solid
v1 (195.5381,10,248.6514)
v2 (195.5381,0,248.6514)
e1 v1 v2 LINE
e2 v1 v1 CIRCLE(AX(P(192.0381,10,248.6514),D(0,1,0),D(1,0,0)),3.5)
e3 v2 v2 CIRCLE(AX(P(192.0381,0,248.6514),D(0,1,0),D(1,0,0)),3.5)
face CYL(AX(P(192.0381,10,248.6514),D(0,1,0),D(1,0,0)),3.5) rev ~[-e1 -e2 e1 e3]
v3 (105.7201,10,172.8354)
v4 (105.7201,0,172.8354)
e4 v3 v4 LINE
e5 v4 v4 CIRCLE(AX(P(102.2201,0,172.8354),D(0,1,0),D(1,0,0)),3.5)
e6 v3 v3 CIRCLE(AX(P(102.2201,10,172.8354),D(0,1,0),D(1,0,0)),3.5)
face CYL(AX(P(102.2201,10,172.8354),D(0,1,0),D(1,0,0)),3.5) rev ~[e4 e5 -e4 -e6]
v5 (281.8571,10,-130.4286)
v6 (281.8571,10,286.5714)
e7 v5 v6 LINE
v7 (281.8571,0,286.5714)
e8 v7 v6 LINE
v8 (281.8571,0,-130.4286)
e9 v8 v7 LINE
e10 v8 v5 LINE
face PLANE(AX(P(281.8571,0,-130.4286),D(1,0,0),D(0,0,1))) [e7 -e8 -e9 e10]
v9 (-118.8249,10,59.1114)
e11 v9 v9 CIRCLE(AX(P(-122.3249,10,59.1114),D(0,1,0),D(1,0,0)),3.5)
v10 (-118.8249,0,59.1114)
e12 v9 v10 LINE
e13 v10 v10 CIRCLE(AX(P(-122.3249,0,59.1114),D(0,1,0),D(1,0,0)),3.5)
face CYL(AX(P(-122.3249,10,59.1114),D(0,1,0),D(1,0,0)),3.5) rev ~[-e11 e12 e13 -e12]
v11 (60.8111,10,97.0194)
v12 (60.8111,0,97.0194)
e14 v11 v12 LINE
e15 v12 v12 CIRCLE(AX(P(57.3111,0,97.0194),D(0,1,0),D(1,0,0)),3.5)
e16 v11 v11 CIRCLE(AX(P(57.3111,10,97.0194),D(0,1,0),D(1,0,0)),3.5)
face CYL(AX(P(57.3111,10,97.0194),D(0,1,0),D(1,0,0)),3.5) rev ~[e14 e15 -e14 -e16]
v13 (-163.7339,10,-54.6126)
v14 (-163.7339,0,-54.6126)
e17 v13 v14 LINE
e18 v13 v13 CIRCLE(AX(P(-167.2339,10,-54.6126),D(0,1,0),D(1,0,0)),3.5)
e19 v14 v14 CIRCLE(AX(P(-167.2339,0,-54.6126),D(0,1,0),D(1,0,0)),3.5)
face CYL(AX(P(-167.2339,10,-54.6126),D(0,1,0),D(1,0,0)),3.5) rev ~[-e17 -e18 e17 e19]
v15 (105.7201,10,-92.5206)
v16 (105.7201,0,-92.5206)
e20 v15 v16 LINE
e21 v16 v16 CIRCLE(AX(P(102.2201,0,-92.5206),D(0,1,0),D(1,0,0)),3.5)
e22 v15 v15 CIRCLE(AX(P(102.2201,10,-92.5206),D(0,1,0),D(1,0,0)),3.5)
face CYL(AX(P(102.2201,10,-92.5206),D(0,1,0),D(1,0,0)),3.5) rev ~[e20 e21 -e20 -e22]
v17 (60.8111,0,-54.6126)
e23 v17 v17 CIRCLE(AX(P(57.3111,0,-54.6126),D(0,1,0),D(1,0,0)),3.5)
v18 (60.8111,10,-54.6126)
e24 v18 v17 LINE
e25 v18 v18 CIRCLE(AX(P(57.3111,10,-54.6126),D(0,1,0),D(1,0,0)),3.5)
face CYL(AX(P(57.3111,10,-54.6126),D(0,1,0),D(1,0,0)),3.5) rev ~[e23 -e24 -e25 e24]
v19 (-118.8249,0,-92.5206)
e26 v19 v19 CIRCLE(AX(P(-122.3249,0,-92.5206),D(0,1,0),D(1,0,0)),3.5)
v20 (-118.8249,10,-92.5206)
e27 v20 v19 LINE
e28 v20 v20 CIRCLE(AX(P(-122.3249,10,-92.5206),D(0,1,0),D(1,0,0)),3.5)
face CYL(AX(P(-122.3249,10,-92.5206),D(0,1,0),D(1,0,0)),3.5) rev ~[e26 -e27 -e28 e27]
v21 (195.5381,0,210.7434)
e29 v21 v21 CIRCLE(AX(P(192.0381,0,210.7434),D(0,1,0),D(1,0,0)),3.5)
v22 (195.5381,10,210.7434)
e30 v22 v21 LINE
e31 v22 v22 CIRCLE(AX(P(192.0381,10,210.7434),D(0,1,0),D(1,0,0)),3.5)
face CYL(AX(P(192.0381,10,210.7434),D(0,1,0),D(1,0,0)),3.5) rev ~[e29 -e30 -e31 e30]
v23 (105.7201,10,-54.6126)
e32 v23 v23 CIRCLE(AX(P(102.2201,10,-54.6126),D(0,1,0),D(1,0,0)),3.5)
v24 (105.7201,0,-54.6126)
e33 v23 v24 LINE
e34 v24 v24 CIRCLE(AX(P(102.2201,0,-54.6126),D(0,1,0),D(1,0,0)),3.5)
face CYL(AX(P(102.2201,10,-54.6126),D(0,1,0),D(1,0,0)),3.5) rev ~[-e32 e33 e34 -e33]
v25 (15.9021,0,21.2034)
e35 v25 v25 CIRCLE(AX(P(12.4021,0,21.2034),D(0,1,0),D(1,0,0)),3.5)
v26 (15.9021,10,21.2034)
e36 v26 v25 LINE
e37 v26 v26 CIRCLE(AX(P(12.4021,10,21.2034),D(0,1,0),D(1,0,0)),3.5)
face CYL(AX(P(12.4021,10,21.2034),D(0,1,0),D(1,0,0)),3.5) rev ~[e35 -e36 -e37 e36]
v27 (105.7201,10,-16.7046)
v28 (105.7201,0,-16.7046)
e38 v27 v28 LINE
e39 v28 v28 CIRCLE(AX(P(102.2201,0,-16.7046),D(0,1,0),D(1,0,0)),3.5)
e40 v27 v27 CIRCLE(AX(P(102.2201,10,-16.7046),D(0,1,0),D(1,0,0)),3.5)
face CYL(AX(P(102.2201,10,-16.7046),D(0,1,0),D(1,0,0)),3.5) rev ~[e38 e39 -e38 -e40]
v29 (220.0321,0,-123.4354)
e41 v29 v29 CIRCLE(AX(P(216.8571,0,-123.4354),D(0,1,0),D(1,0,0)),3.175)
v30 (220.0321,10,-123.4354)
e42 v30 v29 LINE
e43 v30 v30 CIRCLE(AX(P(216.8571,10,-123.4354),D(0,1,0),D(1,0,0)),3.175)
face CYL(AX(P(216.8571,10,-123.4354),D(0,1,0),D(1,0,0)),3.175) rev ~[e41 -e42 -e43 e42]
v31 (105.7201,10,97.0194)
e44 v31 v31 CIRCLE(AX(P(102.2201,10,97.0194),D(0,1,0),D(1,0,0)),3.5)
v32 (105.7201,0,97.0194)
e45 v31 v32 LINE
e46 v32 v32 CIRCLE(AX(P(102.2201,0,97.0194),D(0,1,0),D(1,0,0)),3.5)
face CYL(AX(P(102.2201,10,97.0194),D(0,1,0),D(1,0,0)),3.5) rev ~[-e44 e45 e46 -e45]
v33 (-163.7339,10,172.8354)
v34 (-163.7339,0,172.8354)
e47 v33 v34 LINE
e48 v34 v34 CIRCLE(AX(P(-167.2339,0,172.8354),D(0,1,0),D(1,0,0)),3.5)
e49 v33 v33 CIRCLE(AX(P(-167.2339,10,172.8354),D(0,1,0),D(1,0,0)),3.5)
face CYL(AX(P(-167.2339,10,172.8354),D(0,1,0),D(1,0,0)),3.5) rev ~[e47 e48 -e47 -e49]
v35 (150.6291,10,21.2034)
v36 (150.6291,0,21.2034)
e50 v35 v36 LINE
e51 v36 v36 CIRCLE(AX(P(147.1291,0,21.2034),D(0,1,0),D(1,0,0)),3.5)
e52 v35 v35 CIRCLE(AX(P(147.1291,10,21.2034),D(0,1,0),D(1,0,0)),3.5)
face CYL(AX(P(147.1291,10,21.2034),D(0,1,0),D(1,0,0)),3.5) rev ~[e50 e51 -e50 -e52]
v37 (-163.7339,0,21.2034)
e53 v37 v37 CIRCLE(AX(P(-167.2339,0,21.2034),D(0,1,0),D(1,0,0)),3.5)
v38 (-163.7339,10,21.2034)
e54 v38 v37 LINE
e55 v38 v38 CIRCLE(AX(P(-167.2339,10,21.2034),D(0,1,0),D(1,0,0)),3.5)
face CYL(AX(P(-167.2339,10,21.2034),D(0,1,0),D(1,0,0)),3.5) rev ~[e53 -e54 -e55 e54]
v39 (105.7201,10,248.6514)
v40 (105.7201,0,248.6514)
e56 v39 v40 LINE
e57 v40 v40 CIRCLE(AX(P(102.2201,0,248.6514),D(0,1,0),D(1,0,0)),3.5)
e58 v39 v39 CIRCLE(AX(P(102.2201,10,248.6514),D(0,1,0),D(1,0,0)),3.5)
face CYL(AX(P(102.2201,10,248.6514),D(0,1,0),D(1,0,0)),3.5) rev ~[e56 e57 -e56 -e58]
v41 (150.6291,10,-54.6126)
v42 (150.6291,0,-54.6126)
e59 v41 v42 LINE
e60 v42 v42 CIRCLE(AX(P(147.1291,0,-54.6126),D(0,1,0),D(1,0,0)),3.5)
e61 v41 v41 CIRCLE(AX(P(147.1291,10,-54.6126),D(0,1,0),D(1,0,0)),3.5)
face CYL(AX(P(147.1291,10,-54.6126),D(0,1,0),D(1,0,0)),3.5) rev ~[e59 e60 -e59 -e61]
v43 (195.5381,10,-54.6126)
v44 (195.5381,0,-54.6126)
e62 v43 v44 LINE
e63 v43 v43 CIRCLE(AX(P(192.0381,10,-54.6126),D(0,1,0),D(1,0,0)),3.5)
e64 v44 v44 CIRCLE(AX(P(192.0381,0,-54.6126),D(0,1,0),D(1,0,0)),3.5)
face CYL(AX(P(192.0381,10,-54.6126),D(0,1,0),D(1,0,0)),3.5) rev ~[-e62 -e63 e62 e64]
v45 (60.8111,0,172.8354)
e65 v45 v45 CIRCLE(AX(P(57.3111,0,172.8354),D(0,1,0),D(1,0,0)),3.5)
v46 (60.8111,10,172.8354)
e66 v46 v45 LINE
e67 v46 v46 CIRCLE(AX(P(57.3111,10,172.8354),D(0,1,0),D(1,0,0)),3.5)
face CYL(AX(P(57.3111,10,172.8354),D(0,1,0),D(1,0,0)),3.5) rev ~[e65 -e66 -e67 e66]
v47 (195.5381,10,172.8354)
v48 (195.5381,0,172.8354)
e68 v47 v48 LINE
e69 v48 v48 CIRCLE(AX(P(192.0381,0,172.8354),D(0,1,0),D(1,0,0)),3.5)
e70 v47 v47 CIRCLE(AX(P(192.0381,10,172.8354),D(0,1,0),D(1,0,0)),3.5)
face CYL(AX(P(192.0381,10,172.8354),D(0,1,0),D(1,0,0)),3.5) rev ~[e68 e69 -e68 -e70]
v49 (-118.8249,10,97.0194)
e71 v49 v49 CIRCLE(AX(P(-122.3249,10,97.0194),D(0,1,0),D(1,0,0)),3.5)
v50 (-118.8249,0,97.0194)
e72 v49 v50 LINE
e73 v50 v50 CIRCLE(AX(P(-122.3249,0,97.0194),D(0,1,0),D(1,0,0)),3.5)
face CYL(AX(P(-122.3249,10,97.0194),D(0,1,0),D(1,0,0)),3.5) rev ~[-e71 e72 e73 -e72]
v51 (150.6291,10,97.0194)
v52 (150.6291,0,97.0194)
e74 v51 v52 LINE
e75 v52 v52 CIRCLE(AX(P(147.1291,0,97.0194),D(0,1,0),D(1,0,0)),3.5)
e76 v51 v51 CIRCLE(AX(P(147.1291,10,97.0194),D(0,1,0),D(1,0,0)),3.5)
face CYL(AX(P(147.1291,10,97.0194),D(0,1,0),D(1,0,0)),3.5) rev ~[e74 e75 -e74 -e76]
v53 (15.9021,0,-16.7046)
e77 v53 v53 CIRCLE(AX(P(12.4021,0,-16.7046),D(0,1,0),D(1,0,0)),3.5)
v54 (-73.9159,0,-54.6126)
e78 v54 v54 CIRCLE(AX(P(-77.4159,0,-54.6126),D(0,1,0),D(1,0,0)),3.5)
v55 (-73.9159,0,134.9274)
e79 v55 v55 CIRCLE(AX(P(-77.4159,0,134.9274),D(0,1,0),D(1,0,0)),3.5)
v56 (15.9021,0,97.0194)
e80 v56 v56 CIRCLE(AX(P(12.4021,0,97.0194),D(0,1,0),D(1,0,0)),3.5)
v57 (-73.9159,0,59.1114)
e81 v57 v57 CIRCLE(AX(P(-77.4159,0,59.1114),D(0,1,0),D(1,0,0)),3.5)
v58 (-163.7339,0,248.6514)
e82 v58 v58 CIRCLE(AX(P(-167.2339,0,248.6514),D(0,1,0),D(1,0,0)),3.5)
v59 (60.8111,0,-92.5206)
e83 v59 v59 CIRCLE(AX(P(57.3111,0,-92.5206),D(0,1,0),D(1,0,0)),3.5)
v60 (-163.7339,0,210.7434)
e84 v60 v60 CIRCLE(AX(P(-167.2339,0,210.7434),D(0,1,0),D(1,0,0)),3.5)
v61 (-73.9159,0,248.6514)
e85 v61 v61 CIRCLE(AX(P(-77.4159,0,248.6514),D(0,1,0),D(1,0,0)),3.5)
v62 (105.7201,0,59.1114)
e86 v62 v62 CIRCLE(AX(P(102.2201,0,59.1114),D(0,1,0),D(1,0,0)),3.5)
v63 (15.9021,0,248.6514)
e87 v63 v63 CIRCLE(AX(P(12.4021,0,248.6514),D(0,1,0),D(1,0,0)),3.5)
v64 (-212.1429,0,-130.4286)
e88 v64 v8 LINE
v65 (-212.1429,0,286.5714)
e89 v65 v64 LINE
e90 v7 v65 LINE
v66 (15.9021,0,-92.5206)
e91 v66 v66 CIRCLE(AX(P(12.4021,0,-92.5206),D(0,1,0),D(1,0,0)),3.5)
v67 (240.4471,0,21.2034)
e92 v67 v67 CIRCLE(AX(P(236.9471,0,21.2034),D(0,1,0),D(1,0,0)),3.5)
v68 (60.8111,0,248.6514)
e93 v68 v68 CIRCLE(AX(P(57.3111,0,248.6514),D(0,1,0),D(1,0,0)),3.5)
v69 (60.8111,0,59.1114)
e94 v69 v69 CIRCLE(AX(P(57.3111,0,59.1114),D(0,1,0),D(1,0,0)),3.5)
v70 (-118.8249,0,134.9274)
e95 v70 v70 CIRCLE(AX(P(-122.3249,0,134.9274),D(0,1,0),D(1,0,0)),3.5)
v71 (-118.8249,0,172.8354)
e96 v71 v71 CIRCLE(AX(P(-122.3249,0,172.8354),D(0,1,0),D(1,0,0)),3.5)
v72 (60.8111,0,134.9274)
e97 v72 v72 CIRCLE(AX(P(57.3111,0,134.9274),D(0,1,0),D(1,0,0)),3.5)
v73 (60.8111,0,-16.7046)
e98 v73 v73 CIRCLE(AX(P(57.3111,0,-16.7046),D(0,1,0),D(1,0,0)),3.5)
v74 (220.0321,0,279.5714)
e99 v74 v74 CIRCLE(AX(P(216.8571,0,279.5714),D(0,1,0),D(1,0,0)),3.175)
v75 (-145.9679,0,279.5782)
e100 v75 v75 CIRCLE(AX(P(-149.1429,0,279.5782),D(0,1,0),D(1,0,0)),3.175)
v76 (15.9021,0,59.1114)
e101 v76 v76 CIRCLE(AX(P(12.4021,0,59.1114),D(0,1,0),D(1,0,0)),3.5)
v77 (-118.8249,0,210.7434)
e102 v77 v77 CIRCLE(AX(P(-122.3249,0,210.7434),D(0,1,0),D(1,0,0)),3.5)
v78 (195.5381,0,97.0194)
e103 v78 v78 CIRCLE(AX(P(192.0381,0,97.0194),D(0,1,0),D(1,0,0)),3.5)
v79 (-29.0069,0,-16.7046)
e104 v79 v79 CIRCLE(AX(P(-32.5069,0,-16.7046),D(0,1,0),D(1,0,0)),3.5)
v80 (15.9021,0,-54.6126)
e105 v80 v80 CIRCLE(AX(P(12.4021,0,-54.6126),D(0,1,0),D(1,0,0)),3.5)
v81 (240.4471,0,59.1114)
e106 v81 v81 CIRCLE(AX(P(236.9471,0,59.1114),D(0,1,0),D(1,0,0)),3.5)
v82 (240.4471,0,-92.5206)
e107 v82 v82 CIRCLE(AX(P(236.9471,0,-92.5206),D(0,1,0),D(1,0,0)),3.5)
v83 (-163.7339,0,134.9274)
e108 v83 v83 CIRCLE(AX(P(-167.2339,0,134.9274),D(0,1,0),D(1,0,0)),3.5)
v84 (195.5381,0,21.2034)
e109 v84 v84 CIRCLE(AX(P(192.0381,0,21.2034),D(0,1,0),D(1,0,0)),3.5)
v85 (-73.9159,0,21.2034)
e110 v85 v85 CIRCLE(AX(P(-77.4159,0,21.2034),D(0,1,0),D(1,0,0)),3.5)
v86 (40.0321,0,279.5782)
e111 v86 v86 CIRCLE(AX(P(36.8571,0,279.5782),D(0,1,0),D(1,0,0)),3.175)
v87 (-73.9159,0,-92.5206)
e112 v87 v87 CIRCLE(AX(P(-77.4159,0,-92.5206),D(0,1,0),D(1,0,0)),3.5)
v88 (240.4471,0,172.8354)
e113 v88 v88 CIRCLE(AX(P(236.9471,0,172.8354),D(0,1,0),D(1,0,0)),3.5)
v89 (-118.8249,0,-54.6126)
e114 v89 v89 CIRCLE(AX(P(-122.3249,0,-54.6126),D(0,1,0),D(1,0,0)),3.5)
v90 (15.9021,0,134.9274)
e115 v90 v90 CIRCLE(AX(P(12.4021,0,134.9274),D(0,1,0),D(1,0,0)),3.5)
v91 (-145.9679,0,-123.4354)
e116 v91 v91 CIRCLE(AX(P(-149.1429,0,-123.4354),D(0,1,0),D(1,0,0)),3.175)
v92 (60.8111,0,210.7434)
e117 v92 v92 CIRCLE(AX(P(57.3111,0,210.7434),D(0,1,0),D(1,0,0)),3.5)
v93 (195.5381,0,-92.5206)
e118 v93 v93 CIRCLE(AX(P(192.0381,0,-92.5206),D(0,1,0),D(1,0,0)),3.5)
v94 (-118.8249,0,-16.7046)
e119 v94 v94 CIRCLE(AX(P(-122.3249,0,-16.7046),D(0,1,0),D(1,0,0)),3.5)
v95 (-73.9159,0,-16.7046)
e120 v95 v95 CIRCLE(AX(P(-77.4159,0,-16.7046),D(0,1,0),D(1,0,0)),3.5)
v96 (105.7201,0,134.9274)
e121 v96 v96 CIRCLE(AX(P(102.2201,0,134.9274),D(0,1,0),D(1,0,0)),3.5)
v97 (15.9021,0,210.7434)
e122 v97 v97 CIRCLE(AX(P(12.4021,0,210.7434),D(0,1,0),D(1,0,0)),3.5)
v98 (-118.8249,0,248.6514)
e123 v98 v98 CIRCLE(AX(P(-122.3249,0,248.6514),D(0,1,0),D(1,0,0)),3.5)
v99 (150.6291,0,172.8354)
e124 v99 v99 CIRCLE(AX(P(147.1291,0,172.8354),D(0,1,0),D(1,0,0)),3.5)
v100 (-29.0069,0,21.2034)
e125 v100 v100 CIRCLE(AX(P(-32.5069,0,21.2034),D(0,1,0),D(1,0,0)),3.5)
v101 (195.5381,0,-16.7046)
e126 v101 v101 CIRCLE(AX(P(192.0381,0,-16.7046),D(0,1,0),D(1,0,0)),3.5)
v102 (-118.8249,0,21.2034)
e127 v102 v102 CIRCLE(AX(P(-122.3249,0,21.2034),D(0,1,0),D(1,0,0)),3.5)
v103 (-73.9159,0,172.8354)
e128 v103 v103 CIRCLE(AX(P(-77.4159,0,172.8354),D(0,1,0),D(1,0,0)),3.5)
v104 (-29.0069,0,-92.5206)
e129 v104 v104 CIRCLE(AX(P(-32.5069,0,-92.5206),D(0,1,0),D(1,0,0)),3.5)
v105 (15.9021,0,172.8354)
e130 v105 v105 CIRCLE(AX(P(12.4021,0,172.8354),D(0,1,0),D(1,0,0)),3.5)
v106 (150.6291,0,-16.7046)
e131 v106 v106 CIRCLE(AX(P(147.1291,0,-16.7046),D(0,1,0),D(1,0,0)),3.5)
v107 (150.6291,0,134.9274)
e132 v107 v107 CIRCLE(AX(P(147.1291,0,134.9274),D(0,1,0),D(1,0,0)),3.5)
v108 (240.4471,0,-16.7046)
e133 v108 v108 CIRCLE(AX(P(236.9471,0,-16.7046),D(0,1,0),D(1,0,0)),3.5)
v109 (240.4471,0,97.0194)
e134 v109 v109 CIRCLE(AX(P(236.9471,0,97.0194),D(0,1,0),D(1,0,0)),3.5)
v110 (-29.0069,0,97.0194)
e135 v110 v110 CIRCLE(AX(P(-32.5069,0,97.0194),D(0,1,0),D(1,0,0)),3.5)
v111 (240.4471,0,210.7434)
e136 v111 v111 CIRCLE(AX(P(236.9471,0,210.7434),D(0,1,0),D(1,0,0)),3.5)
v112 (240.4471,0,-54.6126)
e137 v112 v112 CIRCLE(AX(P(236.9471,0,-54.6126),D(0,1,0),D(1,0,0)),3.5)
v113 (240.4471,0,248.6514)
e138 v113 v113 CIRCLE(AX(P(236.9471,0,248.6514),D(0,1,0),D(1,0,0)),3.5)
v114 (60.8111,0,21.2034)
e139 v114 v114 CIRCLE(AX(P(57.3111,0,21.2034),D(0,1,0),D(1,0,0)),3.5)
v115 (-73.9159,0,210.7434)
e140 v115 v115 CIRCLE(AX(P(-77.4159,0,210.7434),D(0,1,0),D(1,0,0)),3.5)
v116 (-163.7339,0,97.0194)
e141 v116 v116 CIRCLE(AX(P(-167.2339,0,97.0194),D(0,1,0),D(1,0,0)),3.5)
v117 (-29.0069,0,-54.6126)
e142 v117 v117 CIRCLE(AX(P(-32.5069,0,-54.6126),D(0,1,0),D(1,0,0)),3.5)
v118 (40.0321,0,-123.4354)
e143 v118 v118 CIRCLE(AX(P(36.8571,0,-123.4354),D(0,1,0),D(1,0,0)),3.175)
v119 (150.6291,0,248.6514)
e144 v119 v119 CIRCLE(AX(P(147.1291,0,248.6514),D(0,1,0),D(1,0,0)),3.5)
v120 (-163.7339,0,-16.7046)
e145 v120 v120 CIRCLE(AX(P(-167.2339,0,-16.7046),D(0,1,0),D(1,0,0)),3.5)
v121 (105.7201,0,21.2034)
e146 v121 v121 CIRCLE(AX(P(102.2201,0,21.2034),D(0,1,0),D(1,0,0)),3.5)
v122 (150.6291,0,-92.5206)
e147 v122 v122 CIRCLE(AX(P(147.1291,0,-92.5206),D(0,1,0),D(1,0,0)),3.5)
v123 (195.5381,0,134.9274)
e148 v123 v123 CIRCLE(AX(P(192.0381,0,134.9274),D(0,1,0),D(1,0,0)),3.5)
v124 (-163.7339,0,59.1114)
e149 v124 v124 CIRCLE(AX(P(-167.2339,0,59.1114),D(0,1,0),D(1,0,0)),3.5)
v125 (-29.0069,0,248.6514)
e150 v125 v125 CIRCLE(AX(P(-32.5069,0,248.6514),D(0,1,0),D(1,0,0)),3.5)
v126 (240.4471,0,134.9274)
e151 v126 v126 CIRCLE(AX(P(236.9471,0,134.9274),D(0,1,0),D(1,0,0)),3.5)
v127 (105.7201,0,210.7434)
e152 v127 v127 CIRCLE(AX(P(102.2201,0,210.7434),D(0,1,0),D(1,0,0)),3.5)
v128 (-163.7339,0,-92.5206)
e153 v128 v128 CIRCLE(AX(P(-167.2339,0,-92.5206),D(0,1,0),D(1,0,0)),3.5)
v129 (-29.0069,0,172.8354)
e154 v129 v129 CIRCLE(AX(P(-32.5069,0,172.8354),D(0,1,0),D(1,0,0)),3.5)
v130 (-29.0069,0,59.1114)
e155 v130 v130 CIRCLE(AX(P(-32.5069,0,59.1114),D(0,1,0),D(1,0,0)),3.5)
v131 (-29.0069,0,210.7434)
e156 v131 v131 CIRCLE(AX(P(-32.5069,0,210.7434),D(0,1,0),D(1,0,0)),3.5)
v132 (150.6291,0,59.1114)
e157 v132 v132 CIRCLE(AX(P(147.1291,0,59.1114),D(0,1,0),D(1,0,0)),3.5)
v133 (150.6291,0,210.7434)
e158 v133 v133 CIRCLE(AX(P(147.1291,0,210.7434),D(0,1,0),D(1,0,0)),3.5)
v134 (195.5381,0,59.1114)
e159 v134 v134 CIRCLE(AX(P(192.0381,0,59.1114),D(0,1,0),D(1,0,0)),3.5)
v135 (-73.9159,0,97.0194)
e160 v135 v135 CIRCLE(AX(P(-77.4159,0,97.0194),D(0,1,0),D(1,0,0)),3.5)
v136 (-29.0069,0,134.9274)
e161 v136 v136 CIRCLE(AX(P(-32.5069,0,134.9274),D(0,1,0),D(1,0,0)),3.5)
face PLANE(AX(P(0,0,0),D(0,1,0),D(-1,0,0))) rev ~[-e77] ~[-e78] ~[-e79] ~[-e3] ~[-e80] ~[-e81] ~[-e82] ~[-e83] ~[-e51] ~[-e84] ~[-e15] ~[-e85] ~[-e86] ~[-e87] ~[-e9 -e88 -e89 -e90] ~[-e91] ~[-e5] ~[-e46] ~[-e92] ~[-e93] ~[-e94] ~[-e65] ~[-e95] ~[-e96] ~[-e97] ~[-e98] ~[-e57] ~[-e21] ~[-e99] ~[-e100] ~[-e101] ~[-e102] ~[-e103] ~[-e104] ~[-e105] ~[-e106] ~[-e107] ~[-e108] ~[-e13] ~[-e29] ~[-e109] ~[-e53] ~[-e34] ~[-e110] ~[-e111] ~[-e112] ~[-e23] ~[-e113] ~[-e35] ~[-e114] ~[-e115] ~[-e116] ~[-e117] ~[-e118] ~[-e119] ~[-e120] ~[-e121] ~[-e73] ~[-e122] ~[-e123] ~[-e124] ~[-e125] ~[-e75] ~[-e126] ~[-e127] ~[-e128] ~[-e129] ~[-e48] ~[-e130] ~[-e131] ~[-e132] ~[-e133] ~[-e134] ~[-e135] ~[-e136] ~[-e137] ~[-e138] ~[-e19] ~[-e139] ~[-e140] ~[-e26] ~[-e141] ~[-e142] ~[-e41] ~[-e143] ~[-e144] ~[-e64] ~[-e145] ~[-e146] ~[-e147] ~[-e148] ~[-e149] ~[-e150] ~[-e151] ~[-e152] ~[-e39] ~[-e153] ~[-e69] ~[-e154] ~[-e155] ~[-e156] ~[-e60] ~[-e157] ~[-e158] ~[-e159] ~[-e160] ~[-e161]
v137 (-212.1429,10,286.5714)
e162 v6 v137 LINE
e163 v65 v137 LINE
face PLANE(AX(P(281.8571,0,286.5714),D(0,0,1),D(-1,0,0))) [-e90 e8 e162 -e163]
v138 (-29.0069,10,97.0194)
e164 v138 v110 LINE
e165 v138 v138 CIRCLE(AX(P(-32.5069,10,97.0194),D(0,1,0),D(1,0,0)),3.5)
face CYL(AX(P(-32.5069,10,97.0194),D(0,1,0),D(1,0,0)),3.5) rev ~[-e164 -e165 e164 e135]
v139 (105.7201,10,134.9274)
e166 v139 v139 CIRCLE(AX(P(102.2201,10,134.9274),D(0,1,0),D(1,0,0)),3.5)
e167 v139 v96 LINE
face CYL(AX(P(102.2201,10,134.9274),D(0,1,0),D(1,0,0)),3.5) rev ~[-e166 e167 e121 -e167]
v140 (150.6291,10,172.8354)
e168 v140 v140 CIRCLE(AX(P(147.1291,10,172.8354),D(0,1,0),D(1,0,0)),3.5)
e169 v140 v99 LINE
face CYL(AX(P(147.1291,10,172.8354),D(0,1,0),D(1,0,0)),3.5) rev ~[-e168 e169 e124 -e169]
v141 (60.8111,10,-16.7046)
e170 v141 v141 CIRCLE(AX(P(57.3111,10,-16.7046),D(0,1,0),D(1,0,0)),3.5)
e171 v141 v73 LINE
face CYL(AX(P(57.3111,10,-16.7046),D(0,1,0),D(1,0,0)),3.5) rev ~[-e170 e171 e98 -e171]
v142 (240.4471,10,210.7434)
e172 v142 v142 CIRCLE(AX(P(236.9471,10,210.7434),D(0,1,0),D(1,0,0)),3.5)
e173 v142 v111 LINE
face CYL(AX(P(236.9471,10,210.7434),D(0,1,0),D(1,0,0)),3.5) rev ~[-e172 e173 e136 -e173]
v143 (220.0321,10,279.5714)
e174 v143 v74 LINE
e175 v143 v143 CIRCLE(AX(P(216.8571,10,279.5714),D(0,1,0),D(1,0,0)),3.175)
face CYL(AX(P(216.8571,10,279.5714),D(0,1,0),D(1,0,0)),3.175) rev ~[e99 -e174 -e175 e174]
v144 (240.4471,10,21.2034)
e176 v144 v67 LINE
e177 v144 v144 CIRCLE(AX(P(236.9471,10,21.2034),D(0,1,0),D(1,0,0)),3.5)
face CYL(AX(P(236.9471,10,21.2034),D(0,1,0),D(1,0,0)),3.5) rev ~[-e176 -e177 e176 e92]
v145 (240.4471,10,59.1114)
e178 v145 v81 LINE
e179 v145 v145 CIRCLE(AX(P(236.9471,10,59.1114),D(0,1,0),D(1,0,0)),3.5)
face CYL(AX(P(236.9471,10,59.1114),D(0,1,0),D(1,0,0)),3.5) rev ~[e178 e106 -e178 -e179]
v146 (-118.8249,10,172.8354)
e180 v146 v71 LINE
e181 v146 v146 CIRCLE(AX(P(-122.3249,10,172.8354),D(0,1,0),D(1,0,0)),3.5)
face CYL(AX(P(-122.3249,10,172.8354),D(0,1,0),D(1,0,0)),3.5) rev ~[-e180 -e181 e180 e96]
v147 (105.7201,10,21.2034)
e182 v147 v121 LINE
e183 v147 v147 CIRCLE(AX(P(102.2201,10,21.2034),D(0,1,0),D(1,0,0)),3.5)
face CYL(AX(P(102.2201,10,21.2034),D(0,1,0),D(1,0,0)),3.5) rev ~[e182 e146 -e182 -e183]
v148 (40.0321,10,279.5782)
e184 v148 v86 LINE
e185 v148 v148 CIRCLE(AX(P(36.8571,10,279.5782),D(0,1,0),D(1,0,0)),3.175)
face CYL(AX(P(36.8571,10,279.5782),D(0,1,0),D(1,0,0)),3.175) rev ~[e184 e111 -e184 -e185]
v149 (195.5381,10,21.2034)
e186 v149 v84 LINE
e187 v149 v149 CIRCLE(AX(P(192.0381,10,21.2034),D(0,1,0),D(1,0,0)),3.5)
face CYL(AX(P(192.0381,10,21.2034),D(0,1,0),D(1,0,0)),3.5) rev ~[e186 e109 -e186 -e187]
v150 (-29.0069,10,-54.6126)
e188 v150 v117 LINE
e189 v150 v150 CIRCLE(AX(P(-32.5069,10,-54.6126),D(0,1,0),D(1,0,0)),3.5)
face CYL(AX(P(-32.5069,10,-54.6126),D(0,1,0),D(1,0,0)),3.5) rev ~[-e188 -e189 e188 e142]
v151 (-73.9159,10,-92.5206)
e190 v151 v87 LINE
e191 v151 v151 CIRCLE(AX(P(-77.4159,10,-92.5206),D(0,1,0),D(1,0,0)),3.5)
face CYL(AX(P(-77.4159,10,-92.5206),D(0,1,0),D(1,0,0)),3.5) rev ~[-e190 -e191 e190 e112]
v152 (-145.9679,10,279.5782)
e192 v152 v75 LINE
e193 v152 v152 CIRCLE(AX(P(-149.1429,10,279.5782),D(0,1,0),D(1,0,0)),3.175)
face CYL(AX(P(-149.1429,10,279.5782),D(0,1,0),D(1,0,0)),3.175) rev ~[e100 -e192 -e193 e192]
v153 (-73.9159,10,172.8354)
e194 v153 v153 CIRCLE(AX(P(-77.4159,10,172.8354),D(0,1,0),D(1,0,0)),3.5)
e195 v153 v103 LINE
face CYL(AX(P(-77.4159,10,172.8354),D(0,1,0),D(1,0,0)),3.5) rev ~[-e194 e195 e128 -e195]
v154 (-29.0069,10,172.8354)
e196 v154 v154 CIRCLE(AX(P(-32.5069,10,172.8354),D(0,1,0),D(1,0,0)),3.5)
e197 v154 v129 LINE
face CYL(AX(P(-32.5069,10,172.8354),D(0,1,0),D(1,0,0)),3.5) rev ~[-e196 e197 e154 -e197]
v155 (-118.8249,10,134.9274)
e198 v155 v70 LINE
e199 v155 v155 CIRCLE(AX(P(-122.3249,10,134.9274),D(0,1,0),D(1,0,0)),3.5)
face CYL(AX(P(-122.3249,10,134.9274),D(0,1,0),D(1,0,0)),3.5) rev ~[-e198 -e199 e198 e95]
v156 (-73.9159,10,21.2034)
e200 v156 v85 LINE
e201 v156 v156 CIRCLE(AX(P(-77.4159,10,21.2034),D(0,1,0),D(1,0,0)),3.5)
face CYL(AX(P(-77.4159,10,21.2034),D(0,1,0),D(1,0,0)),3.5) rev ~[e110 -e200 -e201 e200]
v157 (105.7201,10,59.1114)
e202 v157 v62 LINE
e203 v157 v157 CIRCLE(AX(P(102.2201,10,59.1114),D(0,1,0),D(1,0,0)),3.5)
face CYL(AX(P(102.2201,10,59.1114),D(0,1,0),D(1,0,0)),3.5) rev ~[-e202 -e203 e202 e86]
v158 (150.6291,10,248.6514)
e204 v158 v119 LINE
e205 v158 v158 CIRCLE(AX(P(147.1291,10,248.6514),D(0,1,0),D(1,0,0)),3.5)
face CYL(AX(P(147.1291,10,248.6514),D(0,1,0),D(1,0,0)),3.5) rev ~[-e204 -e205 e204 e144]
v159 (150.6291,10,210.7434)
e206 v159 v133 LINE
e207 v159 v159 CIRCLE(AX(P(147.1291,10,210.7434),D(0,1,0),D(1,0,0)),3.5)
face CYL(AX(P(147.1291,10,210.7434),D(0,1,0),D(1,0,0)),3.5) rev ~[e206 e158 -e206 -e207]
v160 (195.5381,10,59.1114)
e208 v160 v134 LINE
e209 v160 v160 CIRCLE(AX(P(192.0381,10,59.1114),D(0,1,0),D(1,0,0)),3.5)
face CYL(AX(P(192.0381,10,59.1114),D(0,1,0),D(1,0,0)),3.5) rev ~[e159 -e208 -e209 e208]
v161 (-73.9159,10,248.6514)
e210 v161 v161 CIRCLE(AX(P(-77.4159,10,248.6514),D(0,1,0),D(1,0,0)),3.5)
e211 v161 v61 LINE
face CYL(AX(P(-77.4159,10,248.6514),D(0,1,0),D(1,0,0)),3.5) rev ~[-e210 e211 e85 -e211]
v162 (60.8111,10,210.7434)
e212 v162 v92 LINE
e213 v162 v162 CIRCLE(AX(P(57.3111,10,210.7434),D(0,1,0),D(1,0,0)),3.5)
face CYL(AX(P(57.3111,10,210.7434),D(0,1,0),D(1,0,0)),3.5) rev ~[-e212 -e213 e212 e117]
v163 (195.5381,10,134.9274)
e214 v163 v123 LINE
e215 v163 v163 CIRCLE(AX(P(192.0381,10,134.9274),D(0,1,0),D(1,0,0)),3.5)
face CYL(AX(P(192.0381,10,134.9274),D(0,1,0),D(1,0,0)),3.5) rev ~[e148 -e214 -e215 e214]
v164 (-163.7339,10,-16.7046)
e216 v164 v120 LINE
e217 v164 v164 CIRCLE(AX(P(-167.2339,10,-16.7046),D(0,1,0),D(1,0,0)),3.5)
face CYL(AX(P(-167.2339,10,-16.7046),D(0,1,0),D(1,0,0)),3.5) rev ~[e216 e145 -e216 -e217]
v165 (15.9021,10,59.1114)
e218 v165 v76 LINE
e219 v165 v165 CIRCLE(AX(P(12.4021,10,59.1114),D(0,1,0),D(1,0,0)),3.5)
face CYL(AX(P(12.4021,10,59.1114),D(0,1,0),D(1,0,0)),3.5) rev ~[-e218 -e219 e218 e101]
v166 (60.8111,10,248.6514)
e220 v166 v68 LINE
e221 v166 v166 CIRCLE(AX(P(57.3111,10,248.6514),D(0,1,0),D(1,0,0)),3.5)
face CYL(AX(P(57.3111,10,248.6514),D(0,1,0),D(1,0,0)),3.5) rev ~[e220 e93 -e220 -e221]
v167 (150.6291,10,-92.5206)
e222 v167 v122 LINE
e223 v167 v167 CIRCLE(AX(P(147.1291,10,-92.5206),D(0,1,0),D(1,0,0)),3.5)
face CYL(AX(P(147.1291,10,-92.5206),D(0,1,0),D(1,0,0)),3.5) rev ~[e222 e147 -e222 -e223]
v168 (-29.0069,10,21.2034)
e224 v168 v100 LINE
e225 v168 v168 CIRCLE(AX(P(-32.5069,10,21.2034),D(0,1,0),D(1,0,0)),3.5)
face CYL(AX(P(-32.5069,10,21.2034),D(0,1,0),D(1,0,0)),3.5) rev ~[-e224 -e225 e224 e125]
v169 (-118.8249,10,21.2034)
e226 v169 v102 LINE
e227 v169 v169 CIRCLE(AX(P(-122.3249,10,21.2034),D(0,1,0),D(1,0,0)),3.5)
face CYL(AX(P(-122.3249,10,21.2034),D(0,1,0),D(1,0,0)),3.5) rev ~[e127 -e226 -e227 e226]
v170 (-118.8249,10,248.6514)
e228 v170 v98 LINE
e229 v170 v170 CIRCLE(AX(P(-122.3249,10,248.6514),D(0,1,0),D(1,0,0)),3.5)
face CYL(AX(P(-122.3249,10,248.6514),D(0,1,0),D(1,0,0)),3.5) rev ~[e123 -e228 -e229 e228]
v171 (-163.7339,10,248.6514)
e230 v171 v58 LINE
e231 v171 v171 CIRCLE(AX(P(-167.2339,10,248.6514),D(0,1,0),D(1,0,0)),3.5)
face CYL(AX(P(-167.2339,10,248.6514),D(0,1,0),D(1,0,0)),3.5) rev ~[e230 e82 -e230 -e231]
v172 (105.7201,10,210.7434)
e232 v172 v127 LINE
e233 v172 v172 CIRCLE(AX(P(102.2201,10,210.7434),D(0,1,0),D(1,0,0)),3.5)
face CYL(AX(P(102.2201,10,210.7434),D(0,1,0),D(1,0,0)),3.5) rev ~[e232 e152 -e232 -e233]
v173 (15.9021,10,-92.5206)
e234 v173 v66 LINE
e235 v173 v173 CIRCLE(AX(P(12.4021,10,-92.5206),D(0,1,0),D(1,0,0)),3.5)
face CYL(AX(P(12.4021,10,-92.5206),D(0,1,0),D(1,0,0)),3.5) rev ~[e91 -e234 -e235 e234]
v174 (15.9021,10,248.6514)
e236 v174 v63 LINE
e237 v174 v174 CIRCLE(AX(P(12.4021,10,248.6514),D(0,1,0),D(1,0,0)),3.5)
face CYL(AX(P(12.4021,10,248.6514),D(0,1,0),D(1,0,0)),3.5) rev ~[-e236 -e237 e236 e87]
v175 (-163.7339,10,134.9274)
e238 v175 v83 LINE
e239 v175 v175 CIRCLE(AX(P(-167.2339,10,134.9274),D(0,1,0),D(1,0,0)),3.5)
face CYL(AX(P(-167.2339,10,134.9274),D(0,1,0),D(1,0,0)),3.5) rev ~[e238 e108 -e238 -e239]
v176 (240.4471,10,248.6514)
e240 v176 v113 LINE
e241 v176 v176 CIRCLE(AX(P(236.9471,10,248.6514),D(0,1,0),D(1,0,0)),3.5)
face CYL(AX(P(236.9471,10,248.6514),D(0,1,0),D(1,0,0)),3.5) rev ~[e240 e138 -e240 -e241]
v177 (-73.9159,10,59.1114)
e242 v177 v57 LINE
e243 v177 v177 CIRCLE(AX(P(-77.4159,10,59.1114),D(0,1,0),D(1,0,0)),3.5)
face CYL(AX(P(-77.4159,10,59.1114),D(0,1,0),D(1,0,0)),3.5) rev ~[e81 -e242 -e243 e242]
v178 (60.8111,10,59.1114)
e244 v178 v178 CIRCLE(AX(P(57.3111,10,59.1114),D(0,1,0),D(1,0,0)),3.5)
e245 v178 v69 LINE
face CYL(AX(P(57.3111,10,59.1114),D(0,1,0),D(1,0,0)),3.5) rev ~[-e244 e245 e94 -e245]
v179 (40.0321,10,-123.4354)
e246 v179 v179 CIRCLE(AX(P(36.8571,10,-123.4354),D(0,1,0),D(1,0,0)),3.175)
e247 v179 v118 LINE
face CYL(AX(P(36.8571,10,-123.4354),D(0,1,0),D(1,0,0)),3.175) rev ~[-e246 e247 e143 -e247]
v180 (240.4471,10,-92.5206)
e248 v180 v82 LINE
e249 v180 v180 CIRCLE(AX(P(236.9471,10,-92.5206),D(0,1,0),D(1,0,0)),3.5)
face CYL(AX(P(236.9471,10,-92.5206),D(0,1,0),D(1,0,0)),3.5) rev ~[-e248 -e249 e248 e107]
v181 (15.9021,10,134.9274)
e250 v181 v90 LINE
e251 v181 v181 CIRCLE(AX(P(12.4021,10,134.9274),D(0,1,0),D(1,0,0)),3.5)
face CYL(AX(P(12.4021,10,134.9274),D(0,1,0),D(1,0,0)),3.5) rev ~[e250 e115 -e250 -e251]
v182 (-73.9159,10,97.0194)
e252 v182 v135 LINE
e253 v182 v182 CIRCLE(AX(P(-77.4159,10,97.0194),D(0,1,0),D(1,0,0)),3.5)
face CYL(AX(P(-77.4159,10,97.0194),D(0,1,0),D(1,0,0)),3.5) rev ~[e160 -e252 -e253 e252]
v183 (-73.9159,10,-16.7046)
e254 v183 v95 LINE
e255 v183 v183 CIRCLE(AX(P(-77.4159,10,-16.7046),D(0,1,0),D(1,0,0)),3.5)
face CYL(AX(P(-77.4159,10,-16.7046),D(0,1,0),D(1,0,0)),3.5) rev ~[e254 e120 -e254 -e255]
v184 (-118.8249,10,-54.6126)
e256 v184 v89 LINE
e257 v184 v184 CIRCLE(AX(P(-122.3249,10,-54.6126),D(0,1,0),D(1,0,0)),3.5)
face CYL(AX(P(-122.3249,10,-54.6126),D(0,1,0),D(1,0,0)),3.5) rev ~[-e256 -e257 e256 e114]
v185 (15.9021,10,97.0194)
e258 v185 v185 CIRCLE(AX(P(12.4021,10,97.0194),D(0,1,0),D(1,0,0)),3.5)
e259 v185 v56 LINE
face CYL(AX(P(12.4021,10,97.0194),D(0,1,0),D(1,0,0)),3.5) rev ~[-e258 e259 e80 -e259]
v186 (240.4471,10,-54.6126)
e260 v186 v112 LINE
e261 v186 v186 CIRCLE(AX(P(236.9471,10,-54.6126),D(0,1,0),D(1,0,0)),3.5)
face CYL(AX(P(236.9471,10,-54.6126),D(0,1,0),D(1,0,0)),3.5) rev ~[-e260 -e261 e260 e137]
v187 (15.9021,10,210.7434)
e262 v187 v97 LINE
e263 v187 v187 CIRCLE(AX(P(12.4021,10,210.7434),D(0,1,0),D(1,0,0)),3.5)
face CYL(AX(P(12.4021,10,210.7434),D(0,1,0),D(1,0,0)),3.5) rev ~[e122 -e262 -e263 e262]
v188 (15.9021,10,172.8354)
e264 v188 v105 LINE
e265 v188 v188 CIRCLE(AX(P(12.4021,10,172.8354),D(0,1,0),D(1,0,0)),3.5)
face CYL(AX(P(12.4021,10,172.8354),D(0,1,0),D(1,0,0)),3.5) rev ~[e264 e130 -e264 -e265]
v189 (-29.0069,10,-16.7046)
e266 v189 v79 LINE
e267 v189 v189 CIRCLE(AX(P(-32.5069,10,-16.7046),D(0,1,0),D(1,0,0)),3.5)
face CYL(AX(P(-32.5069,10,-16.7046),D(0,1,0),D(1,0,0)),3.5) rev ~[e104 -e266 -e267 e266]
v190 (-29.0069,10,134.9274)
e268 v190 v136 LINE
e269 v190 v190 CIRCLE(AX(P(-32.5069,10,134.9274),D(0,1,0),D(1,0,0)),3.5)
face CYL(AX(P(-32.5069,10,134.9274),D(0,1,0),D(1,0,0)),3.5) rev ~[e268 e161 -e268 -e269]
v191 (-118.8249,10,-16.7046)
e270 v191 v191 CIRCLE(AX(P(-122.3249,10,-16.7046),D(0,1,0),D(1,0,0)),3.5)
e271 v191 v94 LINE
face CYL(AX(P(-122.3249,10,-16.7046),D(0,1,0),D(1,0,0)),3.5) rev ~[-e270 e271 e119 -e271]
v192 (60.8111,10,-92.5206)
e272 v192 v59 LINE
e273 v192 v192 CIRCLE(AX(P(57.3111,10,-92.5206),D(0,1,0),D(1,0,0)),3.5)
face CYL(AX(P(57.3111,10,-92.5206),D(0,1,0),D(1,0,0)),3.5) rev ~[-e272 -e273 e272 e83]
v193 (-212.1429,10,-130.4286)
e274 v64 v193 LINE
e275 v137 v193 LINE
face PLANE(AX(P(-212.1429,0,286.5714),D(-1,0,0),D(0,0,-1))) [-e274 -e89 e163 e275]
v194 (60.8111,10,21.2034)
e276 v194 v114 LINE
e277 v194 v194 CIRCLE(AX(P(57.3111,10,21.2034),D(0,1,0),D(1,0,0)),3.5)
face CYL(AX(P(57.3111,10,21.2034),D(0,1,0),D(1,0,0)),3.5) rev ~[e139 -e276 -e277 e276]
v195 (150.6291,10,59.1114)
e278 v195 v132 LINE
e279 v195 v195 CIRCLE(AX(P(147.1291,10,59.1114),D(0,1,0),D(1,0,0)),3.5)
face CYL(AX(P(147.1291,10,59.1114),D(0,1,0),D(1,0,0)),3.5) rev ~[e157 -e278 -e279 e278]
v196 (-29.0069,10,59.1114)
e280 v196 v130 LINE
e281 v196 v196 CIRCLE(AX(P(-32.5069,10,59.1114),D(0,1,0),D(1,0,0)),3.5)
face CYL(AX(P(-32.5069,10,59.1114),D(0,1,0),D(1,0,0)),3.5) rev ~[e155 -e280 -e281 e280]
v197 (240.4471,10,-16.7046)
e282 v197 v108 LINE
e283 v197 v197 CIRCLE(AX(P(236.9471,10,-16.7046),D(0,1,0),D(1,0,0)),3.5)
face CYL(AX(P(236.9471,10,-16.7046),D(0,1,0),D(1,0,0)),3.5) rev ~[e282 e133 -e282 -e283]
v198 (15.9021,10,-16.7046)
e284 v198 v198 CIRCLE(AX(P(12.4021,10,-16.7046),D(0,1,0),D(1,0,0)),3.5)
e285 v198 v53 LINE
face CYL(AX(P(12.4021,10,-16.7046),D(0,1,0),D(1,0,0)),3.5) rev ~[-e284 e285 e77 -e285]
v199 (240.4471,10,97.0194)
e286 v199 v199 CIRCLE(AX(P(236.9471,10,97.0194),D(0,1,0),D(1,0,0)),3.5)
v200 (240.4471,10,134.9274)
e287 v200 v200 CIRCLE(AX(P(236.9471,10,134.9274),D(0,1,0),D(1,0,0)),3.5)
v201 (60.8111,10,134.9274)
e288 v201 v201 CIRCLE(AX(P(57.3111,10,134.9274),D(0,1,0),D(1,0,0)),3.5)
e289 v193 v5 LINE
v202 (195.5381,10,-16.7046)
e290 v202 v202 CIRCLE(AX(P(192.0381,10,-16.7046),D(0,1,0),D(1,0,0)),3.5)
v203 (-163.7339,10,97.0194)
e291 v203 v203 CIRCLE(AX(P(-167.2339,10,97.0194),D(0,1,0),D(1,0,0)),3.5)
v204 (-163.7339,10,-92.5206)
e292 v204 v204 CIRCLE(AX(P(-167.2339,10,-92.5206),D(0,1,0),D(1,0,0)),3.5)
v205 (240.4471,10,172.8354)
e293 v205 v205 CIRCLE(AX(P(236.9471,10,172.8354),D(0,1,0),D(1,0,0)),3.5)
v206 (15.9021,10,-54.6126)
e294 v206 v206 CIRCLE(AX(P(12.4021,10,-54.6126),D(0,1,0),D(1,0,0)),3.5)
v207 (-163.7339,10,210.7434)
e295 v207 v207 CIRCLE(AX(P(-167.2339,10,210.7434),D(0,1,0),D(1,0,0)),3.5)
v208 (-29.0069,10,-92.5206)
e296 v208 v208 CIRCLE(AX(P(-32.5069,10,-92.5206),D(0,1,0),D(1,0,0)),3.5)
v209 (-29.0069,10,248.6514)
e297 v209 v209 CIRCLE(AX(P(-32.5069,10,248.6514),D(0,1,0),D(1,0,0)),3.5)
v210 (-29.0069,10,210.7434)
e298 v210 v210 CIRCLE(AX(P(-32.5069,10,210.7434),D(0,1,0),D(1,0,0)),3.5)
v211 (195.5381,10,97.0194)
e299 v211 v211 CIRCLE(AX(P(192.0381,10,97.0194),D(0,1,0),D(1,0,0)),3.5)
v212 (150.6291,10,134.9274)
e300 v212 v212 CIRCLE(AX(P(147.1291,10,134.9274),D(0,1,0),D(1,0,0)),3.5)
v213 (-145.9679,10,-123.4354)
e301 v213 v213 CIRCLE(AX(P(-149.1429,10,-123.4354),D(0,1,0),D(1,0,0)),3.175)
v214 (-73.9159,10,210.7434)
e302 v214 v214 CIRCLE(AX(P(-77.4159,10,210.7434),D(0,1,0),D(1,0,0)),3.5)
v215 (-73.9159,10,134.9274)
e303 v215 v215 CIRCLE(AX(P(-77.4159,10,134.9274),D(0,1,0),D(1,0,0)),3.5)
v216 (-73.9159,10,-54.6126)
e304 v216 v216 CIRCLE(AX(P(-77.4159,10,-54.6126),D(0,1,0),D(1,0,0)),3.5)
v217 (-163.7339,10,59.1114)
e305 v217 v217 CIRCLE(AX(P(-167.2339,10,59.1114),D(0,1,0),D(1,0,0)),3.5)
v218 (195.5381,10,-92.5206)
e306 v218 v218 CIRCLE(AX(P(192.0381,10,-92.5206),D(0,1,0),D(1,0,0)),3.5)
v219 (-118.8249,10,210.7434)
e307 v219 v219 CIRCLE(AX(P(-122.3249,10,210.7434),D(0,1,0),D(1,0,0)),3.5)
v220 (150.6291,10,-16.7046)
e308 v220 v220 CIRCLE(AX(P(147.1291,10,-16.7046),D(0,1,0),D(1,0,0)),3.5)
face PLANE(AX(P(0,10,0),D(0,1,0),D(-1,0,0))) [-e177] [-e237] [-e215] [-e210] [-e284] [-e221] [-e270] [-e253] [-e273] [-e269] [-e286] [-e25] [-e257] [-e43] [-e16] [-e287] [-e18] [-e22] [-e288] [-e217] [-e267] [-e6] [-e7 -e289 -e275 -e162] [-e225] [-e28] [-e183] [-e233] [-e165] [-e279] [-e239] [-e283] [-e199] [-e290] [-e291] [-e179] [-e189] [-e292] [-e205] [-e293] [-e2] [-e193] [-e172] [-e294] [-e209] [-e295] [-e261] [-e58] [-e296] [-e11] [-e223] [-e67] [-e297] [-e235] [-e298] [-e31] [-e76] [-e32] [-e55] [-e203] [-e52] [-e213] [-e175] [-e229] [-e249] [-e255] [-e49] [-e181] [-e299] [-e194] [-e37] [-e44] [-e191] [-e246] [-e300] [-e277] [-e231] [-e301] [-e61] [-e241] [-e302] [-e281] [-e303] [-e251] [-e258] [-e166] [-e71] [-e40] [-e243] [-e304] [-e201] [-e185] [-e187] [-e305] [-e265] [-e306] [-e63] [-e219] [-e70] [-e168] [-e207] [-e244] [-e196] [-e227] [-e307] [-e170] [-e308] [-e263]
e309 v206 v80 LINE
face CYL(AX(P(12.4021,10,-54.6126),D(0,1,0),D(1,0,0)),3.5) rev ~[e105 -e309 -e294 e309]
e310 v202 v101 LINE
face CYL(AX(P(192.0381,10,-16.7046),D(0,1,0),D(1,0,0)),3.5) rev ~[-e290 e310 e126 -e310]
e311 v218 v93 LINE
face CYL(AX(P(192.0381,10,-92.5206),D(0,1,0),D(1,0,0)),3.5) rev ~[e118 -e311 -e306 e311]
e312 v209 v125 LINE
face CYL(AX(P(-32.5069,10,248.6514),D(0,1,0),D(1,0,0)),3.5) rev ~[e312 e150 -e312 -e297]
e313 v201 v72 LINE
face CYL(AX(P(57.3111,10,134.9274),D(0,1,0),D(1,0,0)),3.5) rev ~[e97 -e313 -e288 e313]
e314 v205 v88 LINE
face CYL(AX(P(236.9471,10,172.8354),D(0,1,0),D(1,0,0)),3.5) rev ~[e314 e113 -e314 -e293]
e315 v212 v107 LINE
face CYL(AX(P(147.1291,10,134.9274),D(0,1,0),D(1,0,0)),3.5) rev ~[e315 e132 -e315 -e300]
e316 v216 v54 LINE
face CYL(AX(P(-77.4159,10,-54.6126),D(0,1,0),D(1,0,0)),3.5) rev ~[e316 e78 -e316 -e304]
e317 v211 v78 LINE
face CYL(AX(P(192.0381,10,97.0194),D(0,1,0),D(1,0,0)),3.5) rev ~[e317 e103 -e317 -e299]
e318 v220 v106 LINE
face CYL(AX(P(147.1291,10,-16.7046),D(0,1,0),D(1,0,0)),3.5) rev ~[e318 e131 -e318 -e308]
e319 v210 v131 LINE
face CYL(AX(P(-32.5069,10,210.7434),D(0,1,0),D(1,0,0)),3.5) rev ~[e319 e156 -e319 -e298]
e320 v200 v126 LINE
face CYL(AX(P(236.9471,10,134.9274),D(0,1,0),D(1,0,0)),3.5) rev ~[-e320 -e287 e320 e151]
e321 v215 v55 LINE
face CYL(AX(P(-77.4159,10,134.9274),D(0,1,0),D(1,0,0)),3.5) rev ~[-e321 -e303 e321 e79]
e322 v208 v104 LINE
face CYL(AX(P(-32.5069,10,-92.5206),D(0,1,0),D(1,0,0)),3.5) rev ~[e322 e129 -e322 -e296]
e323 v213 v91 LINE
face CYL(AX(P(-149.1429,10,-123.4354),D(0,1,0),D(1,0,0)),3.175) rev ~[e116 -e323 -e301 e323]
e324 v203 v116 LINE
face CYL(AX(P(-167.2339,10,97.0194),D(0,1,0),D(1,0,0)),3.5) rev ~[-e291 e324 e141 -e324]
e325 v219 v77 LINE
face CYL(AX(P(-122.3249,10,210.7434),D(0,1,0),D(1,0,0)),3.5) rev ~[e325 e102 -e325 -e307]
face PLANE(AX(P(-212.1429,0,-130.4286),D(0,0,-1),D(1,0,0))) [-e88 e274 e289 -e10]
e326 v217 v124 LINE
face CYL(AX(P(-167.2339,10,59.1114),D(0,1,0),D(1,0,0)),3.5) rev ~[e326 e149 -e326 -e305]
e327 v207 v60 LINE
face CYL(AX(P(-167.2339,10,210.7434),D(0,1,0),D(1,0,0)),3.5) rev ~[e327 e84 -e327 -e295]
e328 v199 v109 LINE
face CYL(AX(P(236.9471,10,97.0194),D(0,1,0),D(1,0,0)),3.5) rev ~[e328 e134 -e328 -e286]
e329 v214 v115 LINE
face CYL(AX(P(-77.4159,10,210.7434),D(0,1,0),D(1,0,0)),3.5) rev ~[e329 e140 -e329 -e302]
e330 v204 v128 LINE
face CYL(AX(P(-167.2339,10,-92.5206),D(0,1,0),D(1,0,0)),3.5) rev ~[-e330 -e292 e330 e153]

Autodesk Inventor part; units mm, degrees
ref_plane "YZ Plane" through (0, 0, 0) normal (1, 0, 0) x (0, 1, 0)
ref_plane "XZ Plane" through (0, 0, 0) normal (0, 1, 0) x (-1, 0, 0)
ref_plane "XY Plane" through (0, 0, 0) normal (0, 0, 1) x (1, 0, 0)
sketch "Sketch1" plane through (0, 0, 0) normal (0, 1, 0) x (-1, 0, 0)
  line L0 (212.1429, -130.4286) -> (-281.8571, -130.4286)
  line L1 (-281.8571, -130.4286) -> (-281.8571, 286.5714)
  line L2 (-281.8571, 286.5714) -> (212.1429, 286.5714)
  line L3 (212.1429, 286.5714) -> (212.1429, -130.4286)
  point P0 (0, 0)
  dimension "d0" = 494
  dimension "d1" = 417
extrude "Extrusion1" add sketch "Sketch1" along normal blind 10
sketch "Sketch3" plane through (0, 10, 0) normal (0, 1, 0) x (1, 0, 0)
  line L0 (-212.1429, -286.5714) -> (281.8571, -286.5714) projected
  line L1 (281.8571, 130.4286) -> (-212.1429, 130.4286) projected
  point P0 (0, 0)
  dimension "d4" = 416.9918
sketch "Sketch4" plane through (0, 10, 0) normal (0, 1, 0) x (1, 0, 0)
  circle A0 centre (216.8571, -279.5714) radius 3.175
  circle A1 centre (56.7978, -63.9355) radius 3.6308
  circle A2 centre (36.104, -63.9355) radius 3.736
  line L0 (281.8571, 130.4286) -> (-212.1429, 130.4286) projected
  line L1 (281.8571, -286.5714) -> (281.8571, 130.4286) projected
  point P0 (0, 0)
  dimension "d5" = 6.35
  dimension "d6" = 410
  dimension "d7" = 65
extrude "Extrusion2" cut sketch "Sketch4" against normal blind 10 contours A0
sketch "Sketch5" plane through (0, 10, 0) normal (0, 1, 0) x (1, 0, 0)
  circle A0 centre (36.8571, -279.5782) radius 3.175
  line L0 (281.8571, 130.4286) -> (-212.1429, 130.4286) projected
  circle A1 centre (216.8571, -279.5714) radius 3.175 projected
  line L1 (281.8571, -286.5714) -> (281.8571, 130.4286) projected
  point P0 (0, 0)
  dimension "d10" = 6.35
  dimension "d11" = 410.0068
  dimension "d12" = 410
  dimension "d13" = 245
extrude "Extrusion3" cut sketch "Sketch5" against normal blind 10 contours A0
sketch "Sketch6" plane through (0, 10, 0) normal (0, 1, 0) x (1, 0, 0)
  circle A0 centre (-149.1429, -279.5782) radius 3.175
  line L0 (281.8571, 130.4286) -> (-212.1429, 130.4286) projected
  line L1 (281.8571, -286.5714) -> (281.8571, 130.4286) projected
  point P0 (0, 0)
  dimension "d16" = 6.35
  dimension "d17" = 410.0068
  dimension "d18" = 431
extrude "Extrusion4" cut sketch "Sketch6" against normal blind 13.175
sketch "Sketch7" plane through (0, 10, 0) normal (0, 1, 0) x (1, 0, 0)
  circle A0 centre (216.8571, 123.4354) radius 3.175
  line L0 (281.8571, -286.5714) -> (281.8571, 130.4286) projected
  line L1 (-212.1429, -286.5714) -> (281.8571, -286.5714) projected
  point P0 (0, 0)
  dimension "d21" = 6.35
  dimension "d22" = 65
  dimension "d23" = 410.0068
extrude "Extrusion5" cut sketch "Sketch7" against normal blind 10
sketch "Sketch8" plane through (0, 10, 0) normal (0, 1, 0) x (1, 0, 0)
  point P0 (0, 0)
sketch "Sketch9" plane through (0, 10, 0) normal (0, 1, 0) x (1, 0, 0)
  circle A0 centre (36.8571, 123.4354) radius 3.175
  line L0 (-212.1429, -286.5714) -> (281.8571, -286.5714) projected
  line L1 (281.8571, -286.5714) -> (281.8571, 130.4286) projected
  point P0 (0, 0)
  dimension "d26" = 6.35
  dimension "d27" = 410.0068
  dimension "d28" = 245
extrude "Extrusion6" cut sketch "Sketch9" against normal blind 10
sketch "Sketch10" plane through (0, 10, 0) normal (0, 1, 0) x (1, 0, 0)
  circle A0 centre (-149.1429, 123.4354) radius 3.175
  line L0 (-212.1429, -286.5714) -> (281.8571, -286.5714) projected
  line L1 (281.8571, -286.5714) -> (281.8571, 130.4286) projected
  point P0 (0, 0)
  dimension "d31" = 6.35
  dimension "d32" = 410.0068
  dimension "d33" = 431
extrude "Extrusion7" cut sketch "Sketch10" against normal blind 10
sketch "Sketch15" plane through (0, 10, 0) normal (0, 1, 0) x (1, 0, 0)
  line L0 (281.8571, 130.4286) -> (-212.1429, 130.4286) projected
  line L1 (-212.1429, 130.4286) -> (-212.1429, -286.5714) projected
  circle A0 centre (-167.2339, 92.5206) radius 3.5
  circle A1 centre (-122.3249, 92.5206) radius 3.5
  circle A2 centre (-77.4159, 92.5206) radius 3.5
  circle A3 centre (-32.5069, 92.5206) radius 3.5
  circle A4 centre (12.4021, 92.5206) radius 3.5
  circle A5 centre (57.3111, 92.5206) radius 3.5
  circle A6 centre (102.2201, 92.5206) radius 3.5
  circle A7 centre (147.1291, 92.5206) radius 3.5
  circle A8 centre (192.0381, 92.5206) radius 3.5
  circle A9 centre (236.9471, 92.5206) radius 3.5
  circle A10 centre (-167.2339, 54.6126) radius 3.5
  circle A11 centre (-122.3249, 54.6126) radius 3.5
  circle A12 centre (-77.4159, 54.6126) radius 3.5
  circle A13 centre (-32.5069, 54.6126) radius 3.5
  circle A14 centre (12.4021, 54.6126) radius 3.5
  circle A15 centre (57.3111, 54.6126) radius 3.5
  circle A16 centre (102.2201, 54.6126) radius 3.5
  circle A17 centre (147.1291, 54.6126) radius 3.5
  circle A18 centre (192.0381, 54.6126) radius 3.5
  circle A19 centre (236.9471, 54.6126) radius 3.5
  circle A20 centre (-167.2339, 16.7046) radius 3.5
  circle A21 centre (-122.3249, 16.7046) radius 3.5
  circle A22 centre (-77.4159, 16.7046) radius 3.5
  circle A23 centre (-32.5069, 16.7046) radius 3.5
  circle A24 centre (12.4021, 16.7046) radius 3.5
  circle A25 centre (57.3111, 16.7046) radius 3.5
  circle A26 centre (102.2201, 16.7046) radius 3.5
  circle A27 centre (147.1291, 16.7046) radius 3.5
  circle A28 centre (192.0381, 16.7046) radius 3.5
  circle A29 centre (236.9471, 16.7046) radius 3.5
  circle A30 centre (-167.2339, -21.2034) radius 3.5
  circle A31 centre (-122.3249, -21.2034) radius 3.5
  circle A32 centre (-77.4159, -21.2034) radius 3.5
  circle A33 centre (-32.5069, -21.2034) radius 3.5
  circle A34 centre (12.4021, -21.2034) radius 3.5
  circle A35 centre (57.3111, -21.2034) radius 3.5
  circle A36 centre (102.2201, -21.2034) radius 3.5
  circle A37 centre (147.1291, -21.2034) radius 3.5
  circle A38 centre (192.0381, -21.2034) radius 3.5
  circle A39 centre (236.9471, -21.2034) radius 3.5
  circle A40 centre (-167.2339, -59.1114) radius 3.5
  circle A41 centre (-122.3249, -59.1114) radius 3.5
  circle A42 centre (-77.4159, -59.1114) radius 3.5
  circle A43 centre (-32.5069, -59.1114) radius 3.5
  circle A44 centre (12.4021, -59.1114) radius 3.5
  circle A45 centre (57.3111, -59.1114) radius 3.5
  circle A46 centre (102.2201, -59.1114) radius 3.5
  circle A47 centre (147.1291, -59.1114) radius 3.5
  circle A48 centre (192.0381, -59.1114) radius 3.5
  circle A49 centre (236.9471, -59.1114) radius 3.5
  circle A50 centre (-167.2339, -97.0194) radius 3.5
  circle A51 centre (-122.3249, -97.0194) radius 3.5
  circle A52 centre (-77.4159, -97.0194) radius 3.5
  circle A53 centre (-32.5069, -97.0194) radius 3.5
  circle A54 centre (12.4021, -97.0194) radius 3.5
  circle A55 centre (57.3111, -97.0194) radius 3.5
  circle A56 centre (102.2201, -97.0194) radius 3.5
  circle A57 centre (147.1291, -97.0194) radius 3.5
  circle A58 centre (192.0381, -97.0194) radius 3.5
  circle A59 centre (236.9471, -97.0194) radius 3.5
  circle A60 centre (-167.2339, -134.9274) radius 3.5
  circle A61 centre (-122.3249, -134.9274) radius 3.5
  circle A62 centre (-77.4159, -134.9274) radius 3.5
  circle A63 centre (-32.5069, -134.9274) radius 3.5
  circle A64 centre (12.4021, -134.9274) radius 3.5
  circle A65 centre (57.3111, -134.9274) radius 3.5
  circle A66 centre (102.2201, -134.9274) radius 3.5
  circle A67 centre (147.1291, -134.9274) radius 3.5
  circle A68 centre (192.0381, -134.9274) radius 3.5
  circle A69 centre (236.9471, -134.9274) radius 3.5
  circle A70 centre (-167.2339, -172.8354) radius 3.5
  circle A71 centre (-122.3249, -172.8354) radius 3.5
  circle A72 centre (-77.4159, -172.8354) radius 3.5
  circle A73 centre (-32.5069, -172.8354) radius 3.5
  circle A74 centre (12.4021, -172.8354) radius 3.5
  circle A75 centre (57.3111, -172.8354) radius 3.5
  circle A76 centre (102.2201, -172.8354) radius 3.5
  circle A77 centre (147.1291, -172.8354) radius 3.5
  circle A78 centre (192.0381, -172.8354) radius 3.5
  circle A79 centre (236.9471, -172.8354) radius 3.5
  circle A80 centre (-167.2339, -210.7434) radius 3.5
  circle A81 centre (-122.3249, -210.7434) radius 3.5
  circle A82 centre (-77.4159, -210.7434) radius 3.5
  circle A83 centre (-32.5069, -210.7434) radius 3.5
  circle A84 centre (12.4021, -210.7434) radius 3.5
  circle A85 centre (57.3111, -210.7434) radius 3.5
  circle A86 centre (102.2201, -210.7434) radius 3.5
  circle A87 centre (147.1291, -210.7434) radius 3.5
  circle A88 centre (192.0381, -210.7434) radius 3.5
  circle A89 centre (236.9471, -210.7434) radius 3.5
  circle A90 centre (-167.2339, -248.6514) radius 3.5
  circle A91 centre (-122.3249, -248.6514) radius 3.5
  circle A92 centre (-77.4159, -248.6514) radius 3.5
  circle A93 centre (-32.5069, -248.6514) radius 3.5
  circle A94 centre (12.4021, -248.6514) radius 3.5
  circle A95 centre (57.3111, -248.6514) radius 3.5
  circle A96 centre (102.2201, -248.6514) radius 3.5
  circle A97 centre (147.1291, -248.6514) radius 3.5
  circle A98 centre (192.0381, -248.6514) radius 3.5
  circle A99 centre (236.9471, -248.6514) radius 3.5
  point P0 (0, 0)
  dimension "d130" = 7
  dimension "d131" = 37.908
  dimension "d132" = 44.909
  dimension "d135" = 44.909
  dimension "d138" = 37.908
extrude "Extrusion10" cut sketch "Sketch15" against normal through all
properties part number "BattleBot-TopPlate-Redesign"
